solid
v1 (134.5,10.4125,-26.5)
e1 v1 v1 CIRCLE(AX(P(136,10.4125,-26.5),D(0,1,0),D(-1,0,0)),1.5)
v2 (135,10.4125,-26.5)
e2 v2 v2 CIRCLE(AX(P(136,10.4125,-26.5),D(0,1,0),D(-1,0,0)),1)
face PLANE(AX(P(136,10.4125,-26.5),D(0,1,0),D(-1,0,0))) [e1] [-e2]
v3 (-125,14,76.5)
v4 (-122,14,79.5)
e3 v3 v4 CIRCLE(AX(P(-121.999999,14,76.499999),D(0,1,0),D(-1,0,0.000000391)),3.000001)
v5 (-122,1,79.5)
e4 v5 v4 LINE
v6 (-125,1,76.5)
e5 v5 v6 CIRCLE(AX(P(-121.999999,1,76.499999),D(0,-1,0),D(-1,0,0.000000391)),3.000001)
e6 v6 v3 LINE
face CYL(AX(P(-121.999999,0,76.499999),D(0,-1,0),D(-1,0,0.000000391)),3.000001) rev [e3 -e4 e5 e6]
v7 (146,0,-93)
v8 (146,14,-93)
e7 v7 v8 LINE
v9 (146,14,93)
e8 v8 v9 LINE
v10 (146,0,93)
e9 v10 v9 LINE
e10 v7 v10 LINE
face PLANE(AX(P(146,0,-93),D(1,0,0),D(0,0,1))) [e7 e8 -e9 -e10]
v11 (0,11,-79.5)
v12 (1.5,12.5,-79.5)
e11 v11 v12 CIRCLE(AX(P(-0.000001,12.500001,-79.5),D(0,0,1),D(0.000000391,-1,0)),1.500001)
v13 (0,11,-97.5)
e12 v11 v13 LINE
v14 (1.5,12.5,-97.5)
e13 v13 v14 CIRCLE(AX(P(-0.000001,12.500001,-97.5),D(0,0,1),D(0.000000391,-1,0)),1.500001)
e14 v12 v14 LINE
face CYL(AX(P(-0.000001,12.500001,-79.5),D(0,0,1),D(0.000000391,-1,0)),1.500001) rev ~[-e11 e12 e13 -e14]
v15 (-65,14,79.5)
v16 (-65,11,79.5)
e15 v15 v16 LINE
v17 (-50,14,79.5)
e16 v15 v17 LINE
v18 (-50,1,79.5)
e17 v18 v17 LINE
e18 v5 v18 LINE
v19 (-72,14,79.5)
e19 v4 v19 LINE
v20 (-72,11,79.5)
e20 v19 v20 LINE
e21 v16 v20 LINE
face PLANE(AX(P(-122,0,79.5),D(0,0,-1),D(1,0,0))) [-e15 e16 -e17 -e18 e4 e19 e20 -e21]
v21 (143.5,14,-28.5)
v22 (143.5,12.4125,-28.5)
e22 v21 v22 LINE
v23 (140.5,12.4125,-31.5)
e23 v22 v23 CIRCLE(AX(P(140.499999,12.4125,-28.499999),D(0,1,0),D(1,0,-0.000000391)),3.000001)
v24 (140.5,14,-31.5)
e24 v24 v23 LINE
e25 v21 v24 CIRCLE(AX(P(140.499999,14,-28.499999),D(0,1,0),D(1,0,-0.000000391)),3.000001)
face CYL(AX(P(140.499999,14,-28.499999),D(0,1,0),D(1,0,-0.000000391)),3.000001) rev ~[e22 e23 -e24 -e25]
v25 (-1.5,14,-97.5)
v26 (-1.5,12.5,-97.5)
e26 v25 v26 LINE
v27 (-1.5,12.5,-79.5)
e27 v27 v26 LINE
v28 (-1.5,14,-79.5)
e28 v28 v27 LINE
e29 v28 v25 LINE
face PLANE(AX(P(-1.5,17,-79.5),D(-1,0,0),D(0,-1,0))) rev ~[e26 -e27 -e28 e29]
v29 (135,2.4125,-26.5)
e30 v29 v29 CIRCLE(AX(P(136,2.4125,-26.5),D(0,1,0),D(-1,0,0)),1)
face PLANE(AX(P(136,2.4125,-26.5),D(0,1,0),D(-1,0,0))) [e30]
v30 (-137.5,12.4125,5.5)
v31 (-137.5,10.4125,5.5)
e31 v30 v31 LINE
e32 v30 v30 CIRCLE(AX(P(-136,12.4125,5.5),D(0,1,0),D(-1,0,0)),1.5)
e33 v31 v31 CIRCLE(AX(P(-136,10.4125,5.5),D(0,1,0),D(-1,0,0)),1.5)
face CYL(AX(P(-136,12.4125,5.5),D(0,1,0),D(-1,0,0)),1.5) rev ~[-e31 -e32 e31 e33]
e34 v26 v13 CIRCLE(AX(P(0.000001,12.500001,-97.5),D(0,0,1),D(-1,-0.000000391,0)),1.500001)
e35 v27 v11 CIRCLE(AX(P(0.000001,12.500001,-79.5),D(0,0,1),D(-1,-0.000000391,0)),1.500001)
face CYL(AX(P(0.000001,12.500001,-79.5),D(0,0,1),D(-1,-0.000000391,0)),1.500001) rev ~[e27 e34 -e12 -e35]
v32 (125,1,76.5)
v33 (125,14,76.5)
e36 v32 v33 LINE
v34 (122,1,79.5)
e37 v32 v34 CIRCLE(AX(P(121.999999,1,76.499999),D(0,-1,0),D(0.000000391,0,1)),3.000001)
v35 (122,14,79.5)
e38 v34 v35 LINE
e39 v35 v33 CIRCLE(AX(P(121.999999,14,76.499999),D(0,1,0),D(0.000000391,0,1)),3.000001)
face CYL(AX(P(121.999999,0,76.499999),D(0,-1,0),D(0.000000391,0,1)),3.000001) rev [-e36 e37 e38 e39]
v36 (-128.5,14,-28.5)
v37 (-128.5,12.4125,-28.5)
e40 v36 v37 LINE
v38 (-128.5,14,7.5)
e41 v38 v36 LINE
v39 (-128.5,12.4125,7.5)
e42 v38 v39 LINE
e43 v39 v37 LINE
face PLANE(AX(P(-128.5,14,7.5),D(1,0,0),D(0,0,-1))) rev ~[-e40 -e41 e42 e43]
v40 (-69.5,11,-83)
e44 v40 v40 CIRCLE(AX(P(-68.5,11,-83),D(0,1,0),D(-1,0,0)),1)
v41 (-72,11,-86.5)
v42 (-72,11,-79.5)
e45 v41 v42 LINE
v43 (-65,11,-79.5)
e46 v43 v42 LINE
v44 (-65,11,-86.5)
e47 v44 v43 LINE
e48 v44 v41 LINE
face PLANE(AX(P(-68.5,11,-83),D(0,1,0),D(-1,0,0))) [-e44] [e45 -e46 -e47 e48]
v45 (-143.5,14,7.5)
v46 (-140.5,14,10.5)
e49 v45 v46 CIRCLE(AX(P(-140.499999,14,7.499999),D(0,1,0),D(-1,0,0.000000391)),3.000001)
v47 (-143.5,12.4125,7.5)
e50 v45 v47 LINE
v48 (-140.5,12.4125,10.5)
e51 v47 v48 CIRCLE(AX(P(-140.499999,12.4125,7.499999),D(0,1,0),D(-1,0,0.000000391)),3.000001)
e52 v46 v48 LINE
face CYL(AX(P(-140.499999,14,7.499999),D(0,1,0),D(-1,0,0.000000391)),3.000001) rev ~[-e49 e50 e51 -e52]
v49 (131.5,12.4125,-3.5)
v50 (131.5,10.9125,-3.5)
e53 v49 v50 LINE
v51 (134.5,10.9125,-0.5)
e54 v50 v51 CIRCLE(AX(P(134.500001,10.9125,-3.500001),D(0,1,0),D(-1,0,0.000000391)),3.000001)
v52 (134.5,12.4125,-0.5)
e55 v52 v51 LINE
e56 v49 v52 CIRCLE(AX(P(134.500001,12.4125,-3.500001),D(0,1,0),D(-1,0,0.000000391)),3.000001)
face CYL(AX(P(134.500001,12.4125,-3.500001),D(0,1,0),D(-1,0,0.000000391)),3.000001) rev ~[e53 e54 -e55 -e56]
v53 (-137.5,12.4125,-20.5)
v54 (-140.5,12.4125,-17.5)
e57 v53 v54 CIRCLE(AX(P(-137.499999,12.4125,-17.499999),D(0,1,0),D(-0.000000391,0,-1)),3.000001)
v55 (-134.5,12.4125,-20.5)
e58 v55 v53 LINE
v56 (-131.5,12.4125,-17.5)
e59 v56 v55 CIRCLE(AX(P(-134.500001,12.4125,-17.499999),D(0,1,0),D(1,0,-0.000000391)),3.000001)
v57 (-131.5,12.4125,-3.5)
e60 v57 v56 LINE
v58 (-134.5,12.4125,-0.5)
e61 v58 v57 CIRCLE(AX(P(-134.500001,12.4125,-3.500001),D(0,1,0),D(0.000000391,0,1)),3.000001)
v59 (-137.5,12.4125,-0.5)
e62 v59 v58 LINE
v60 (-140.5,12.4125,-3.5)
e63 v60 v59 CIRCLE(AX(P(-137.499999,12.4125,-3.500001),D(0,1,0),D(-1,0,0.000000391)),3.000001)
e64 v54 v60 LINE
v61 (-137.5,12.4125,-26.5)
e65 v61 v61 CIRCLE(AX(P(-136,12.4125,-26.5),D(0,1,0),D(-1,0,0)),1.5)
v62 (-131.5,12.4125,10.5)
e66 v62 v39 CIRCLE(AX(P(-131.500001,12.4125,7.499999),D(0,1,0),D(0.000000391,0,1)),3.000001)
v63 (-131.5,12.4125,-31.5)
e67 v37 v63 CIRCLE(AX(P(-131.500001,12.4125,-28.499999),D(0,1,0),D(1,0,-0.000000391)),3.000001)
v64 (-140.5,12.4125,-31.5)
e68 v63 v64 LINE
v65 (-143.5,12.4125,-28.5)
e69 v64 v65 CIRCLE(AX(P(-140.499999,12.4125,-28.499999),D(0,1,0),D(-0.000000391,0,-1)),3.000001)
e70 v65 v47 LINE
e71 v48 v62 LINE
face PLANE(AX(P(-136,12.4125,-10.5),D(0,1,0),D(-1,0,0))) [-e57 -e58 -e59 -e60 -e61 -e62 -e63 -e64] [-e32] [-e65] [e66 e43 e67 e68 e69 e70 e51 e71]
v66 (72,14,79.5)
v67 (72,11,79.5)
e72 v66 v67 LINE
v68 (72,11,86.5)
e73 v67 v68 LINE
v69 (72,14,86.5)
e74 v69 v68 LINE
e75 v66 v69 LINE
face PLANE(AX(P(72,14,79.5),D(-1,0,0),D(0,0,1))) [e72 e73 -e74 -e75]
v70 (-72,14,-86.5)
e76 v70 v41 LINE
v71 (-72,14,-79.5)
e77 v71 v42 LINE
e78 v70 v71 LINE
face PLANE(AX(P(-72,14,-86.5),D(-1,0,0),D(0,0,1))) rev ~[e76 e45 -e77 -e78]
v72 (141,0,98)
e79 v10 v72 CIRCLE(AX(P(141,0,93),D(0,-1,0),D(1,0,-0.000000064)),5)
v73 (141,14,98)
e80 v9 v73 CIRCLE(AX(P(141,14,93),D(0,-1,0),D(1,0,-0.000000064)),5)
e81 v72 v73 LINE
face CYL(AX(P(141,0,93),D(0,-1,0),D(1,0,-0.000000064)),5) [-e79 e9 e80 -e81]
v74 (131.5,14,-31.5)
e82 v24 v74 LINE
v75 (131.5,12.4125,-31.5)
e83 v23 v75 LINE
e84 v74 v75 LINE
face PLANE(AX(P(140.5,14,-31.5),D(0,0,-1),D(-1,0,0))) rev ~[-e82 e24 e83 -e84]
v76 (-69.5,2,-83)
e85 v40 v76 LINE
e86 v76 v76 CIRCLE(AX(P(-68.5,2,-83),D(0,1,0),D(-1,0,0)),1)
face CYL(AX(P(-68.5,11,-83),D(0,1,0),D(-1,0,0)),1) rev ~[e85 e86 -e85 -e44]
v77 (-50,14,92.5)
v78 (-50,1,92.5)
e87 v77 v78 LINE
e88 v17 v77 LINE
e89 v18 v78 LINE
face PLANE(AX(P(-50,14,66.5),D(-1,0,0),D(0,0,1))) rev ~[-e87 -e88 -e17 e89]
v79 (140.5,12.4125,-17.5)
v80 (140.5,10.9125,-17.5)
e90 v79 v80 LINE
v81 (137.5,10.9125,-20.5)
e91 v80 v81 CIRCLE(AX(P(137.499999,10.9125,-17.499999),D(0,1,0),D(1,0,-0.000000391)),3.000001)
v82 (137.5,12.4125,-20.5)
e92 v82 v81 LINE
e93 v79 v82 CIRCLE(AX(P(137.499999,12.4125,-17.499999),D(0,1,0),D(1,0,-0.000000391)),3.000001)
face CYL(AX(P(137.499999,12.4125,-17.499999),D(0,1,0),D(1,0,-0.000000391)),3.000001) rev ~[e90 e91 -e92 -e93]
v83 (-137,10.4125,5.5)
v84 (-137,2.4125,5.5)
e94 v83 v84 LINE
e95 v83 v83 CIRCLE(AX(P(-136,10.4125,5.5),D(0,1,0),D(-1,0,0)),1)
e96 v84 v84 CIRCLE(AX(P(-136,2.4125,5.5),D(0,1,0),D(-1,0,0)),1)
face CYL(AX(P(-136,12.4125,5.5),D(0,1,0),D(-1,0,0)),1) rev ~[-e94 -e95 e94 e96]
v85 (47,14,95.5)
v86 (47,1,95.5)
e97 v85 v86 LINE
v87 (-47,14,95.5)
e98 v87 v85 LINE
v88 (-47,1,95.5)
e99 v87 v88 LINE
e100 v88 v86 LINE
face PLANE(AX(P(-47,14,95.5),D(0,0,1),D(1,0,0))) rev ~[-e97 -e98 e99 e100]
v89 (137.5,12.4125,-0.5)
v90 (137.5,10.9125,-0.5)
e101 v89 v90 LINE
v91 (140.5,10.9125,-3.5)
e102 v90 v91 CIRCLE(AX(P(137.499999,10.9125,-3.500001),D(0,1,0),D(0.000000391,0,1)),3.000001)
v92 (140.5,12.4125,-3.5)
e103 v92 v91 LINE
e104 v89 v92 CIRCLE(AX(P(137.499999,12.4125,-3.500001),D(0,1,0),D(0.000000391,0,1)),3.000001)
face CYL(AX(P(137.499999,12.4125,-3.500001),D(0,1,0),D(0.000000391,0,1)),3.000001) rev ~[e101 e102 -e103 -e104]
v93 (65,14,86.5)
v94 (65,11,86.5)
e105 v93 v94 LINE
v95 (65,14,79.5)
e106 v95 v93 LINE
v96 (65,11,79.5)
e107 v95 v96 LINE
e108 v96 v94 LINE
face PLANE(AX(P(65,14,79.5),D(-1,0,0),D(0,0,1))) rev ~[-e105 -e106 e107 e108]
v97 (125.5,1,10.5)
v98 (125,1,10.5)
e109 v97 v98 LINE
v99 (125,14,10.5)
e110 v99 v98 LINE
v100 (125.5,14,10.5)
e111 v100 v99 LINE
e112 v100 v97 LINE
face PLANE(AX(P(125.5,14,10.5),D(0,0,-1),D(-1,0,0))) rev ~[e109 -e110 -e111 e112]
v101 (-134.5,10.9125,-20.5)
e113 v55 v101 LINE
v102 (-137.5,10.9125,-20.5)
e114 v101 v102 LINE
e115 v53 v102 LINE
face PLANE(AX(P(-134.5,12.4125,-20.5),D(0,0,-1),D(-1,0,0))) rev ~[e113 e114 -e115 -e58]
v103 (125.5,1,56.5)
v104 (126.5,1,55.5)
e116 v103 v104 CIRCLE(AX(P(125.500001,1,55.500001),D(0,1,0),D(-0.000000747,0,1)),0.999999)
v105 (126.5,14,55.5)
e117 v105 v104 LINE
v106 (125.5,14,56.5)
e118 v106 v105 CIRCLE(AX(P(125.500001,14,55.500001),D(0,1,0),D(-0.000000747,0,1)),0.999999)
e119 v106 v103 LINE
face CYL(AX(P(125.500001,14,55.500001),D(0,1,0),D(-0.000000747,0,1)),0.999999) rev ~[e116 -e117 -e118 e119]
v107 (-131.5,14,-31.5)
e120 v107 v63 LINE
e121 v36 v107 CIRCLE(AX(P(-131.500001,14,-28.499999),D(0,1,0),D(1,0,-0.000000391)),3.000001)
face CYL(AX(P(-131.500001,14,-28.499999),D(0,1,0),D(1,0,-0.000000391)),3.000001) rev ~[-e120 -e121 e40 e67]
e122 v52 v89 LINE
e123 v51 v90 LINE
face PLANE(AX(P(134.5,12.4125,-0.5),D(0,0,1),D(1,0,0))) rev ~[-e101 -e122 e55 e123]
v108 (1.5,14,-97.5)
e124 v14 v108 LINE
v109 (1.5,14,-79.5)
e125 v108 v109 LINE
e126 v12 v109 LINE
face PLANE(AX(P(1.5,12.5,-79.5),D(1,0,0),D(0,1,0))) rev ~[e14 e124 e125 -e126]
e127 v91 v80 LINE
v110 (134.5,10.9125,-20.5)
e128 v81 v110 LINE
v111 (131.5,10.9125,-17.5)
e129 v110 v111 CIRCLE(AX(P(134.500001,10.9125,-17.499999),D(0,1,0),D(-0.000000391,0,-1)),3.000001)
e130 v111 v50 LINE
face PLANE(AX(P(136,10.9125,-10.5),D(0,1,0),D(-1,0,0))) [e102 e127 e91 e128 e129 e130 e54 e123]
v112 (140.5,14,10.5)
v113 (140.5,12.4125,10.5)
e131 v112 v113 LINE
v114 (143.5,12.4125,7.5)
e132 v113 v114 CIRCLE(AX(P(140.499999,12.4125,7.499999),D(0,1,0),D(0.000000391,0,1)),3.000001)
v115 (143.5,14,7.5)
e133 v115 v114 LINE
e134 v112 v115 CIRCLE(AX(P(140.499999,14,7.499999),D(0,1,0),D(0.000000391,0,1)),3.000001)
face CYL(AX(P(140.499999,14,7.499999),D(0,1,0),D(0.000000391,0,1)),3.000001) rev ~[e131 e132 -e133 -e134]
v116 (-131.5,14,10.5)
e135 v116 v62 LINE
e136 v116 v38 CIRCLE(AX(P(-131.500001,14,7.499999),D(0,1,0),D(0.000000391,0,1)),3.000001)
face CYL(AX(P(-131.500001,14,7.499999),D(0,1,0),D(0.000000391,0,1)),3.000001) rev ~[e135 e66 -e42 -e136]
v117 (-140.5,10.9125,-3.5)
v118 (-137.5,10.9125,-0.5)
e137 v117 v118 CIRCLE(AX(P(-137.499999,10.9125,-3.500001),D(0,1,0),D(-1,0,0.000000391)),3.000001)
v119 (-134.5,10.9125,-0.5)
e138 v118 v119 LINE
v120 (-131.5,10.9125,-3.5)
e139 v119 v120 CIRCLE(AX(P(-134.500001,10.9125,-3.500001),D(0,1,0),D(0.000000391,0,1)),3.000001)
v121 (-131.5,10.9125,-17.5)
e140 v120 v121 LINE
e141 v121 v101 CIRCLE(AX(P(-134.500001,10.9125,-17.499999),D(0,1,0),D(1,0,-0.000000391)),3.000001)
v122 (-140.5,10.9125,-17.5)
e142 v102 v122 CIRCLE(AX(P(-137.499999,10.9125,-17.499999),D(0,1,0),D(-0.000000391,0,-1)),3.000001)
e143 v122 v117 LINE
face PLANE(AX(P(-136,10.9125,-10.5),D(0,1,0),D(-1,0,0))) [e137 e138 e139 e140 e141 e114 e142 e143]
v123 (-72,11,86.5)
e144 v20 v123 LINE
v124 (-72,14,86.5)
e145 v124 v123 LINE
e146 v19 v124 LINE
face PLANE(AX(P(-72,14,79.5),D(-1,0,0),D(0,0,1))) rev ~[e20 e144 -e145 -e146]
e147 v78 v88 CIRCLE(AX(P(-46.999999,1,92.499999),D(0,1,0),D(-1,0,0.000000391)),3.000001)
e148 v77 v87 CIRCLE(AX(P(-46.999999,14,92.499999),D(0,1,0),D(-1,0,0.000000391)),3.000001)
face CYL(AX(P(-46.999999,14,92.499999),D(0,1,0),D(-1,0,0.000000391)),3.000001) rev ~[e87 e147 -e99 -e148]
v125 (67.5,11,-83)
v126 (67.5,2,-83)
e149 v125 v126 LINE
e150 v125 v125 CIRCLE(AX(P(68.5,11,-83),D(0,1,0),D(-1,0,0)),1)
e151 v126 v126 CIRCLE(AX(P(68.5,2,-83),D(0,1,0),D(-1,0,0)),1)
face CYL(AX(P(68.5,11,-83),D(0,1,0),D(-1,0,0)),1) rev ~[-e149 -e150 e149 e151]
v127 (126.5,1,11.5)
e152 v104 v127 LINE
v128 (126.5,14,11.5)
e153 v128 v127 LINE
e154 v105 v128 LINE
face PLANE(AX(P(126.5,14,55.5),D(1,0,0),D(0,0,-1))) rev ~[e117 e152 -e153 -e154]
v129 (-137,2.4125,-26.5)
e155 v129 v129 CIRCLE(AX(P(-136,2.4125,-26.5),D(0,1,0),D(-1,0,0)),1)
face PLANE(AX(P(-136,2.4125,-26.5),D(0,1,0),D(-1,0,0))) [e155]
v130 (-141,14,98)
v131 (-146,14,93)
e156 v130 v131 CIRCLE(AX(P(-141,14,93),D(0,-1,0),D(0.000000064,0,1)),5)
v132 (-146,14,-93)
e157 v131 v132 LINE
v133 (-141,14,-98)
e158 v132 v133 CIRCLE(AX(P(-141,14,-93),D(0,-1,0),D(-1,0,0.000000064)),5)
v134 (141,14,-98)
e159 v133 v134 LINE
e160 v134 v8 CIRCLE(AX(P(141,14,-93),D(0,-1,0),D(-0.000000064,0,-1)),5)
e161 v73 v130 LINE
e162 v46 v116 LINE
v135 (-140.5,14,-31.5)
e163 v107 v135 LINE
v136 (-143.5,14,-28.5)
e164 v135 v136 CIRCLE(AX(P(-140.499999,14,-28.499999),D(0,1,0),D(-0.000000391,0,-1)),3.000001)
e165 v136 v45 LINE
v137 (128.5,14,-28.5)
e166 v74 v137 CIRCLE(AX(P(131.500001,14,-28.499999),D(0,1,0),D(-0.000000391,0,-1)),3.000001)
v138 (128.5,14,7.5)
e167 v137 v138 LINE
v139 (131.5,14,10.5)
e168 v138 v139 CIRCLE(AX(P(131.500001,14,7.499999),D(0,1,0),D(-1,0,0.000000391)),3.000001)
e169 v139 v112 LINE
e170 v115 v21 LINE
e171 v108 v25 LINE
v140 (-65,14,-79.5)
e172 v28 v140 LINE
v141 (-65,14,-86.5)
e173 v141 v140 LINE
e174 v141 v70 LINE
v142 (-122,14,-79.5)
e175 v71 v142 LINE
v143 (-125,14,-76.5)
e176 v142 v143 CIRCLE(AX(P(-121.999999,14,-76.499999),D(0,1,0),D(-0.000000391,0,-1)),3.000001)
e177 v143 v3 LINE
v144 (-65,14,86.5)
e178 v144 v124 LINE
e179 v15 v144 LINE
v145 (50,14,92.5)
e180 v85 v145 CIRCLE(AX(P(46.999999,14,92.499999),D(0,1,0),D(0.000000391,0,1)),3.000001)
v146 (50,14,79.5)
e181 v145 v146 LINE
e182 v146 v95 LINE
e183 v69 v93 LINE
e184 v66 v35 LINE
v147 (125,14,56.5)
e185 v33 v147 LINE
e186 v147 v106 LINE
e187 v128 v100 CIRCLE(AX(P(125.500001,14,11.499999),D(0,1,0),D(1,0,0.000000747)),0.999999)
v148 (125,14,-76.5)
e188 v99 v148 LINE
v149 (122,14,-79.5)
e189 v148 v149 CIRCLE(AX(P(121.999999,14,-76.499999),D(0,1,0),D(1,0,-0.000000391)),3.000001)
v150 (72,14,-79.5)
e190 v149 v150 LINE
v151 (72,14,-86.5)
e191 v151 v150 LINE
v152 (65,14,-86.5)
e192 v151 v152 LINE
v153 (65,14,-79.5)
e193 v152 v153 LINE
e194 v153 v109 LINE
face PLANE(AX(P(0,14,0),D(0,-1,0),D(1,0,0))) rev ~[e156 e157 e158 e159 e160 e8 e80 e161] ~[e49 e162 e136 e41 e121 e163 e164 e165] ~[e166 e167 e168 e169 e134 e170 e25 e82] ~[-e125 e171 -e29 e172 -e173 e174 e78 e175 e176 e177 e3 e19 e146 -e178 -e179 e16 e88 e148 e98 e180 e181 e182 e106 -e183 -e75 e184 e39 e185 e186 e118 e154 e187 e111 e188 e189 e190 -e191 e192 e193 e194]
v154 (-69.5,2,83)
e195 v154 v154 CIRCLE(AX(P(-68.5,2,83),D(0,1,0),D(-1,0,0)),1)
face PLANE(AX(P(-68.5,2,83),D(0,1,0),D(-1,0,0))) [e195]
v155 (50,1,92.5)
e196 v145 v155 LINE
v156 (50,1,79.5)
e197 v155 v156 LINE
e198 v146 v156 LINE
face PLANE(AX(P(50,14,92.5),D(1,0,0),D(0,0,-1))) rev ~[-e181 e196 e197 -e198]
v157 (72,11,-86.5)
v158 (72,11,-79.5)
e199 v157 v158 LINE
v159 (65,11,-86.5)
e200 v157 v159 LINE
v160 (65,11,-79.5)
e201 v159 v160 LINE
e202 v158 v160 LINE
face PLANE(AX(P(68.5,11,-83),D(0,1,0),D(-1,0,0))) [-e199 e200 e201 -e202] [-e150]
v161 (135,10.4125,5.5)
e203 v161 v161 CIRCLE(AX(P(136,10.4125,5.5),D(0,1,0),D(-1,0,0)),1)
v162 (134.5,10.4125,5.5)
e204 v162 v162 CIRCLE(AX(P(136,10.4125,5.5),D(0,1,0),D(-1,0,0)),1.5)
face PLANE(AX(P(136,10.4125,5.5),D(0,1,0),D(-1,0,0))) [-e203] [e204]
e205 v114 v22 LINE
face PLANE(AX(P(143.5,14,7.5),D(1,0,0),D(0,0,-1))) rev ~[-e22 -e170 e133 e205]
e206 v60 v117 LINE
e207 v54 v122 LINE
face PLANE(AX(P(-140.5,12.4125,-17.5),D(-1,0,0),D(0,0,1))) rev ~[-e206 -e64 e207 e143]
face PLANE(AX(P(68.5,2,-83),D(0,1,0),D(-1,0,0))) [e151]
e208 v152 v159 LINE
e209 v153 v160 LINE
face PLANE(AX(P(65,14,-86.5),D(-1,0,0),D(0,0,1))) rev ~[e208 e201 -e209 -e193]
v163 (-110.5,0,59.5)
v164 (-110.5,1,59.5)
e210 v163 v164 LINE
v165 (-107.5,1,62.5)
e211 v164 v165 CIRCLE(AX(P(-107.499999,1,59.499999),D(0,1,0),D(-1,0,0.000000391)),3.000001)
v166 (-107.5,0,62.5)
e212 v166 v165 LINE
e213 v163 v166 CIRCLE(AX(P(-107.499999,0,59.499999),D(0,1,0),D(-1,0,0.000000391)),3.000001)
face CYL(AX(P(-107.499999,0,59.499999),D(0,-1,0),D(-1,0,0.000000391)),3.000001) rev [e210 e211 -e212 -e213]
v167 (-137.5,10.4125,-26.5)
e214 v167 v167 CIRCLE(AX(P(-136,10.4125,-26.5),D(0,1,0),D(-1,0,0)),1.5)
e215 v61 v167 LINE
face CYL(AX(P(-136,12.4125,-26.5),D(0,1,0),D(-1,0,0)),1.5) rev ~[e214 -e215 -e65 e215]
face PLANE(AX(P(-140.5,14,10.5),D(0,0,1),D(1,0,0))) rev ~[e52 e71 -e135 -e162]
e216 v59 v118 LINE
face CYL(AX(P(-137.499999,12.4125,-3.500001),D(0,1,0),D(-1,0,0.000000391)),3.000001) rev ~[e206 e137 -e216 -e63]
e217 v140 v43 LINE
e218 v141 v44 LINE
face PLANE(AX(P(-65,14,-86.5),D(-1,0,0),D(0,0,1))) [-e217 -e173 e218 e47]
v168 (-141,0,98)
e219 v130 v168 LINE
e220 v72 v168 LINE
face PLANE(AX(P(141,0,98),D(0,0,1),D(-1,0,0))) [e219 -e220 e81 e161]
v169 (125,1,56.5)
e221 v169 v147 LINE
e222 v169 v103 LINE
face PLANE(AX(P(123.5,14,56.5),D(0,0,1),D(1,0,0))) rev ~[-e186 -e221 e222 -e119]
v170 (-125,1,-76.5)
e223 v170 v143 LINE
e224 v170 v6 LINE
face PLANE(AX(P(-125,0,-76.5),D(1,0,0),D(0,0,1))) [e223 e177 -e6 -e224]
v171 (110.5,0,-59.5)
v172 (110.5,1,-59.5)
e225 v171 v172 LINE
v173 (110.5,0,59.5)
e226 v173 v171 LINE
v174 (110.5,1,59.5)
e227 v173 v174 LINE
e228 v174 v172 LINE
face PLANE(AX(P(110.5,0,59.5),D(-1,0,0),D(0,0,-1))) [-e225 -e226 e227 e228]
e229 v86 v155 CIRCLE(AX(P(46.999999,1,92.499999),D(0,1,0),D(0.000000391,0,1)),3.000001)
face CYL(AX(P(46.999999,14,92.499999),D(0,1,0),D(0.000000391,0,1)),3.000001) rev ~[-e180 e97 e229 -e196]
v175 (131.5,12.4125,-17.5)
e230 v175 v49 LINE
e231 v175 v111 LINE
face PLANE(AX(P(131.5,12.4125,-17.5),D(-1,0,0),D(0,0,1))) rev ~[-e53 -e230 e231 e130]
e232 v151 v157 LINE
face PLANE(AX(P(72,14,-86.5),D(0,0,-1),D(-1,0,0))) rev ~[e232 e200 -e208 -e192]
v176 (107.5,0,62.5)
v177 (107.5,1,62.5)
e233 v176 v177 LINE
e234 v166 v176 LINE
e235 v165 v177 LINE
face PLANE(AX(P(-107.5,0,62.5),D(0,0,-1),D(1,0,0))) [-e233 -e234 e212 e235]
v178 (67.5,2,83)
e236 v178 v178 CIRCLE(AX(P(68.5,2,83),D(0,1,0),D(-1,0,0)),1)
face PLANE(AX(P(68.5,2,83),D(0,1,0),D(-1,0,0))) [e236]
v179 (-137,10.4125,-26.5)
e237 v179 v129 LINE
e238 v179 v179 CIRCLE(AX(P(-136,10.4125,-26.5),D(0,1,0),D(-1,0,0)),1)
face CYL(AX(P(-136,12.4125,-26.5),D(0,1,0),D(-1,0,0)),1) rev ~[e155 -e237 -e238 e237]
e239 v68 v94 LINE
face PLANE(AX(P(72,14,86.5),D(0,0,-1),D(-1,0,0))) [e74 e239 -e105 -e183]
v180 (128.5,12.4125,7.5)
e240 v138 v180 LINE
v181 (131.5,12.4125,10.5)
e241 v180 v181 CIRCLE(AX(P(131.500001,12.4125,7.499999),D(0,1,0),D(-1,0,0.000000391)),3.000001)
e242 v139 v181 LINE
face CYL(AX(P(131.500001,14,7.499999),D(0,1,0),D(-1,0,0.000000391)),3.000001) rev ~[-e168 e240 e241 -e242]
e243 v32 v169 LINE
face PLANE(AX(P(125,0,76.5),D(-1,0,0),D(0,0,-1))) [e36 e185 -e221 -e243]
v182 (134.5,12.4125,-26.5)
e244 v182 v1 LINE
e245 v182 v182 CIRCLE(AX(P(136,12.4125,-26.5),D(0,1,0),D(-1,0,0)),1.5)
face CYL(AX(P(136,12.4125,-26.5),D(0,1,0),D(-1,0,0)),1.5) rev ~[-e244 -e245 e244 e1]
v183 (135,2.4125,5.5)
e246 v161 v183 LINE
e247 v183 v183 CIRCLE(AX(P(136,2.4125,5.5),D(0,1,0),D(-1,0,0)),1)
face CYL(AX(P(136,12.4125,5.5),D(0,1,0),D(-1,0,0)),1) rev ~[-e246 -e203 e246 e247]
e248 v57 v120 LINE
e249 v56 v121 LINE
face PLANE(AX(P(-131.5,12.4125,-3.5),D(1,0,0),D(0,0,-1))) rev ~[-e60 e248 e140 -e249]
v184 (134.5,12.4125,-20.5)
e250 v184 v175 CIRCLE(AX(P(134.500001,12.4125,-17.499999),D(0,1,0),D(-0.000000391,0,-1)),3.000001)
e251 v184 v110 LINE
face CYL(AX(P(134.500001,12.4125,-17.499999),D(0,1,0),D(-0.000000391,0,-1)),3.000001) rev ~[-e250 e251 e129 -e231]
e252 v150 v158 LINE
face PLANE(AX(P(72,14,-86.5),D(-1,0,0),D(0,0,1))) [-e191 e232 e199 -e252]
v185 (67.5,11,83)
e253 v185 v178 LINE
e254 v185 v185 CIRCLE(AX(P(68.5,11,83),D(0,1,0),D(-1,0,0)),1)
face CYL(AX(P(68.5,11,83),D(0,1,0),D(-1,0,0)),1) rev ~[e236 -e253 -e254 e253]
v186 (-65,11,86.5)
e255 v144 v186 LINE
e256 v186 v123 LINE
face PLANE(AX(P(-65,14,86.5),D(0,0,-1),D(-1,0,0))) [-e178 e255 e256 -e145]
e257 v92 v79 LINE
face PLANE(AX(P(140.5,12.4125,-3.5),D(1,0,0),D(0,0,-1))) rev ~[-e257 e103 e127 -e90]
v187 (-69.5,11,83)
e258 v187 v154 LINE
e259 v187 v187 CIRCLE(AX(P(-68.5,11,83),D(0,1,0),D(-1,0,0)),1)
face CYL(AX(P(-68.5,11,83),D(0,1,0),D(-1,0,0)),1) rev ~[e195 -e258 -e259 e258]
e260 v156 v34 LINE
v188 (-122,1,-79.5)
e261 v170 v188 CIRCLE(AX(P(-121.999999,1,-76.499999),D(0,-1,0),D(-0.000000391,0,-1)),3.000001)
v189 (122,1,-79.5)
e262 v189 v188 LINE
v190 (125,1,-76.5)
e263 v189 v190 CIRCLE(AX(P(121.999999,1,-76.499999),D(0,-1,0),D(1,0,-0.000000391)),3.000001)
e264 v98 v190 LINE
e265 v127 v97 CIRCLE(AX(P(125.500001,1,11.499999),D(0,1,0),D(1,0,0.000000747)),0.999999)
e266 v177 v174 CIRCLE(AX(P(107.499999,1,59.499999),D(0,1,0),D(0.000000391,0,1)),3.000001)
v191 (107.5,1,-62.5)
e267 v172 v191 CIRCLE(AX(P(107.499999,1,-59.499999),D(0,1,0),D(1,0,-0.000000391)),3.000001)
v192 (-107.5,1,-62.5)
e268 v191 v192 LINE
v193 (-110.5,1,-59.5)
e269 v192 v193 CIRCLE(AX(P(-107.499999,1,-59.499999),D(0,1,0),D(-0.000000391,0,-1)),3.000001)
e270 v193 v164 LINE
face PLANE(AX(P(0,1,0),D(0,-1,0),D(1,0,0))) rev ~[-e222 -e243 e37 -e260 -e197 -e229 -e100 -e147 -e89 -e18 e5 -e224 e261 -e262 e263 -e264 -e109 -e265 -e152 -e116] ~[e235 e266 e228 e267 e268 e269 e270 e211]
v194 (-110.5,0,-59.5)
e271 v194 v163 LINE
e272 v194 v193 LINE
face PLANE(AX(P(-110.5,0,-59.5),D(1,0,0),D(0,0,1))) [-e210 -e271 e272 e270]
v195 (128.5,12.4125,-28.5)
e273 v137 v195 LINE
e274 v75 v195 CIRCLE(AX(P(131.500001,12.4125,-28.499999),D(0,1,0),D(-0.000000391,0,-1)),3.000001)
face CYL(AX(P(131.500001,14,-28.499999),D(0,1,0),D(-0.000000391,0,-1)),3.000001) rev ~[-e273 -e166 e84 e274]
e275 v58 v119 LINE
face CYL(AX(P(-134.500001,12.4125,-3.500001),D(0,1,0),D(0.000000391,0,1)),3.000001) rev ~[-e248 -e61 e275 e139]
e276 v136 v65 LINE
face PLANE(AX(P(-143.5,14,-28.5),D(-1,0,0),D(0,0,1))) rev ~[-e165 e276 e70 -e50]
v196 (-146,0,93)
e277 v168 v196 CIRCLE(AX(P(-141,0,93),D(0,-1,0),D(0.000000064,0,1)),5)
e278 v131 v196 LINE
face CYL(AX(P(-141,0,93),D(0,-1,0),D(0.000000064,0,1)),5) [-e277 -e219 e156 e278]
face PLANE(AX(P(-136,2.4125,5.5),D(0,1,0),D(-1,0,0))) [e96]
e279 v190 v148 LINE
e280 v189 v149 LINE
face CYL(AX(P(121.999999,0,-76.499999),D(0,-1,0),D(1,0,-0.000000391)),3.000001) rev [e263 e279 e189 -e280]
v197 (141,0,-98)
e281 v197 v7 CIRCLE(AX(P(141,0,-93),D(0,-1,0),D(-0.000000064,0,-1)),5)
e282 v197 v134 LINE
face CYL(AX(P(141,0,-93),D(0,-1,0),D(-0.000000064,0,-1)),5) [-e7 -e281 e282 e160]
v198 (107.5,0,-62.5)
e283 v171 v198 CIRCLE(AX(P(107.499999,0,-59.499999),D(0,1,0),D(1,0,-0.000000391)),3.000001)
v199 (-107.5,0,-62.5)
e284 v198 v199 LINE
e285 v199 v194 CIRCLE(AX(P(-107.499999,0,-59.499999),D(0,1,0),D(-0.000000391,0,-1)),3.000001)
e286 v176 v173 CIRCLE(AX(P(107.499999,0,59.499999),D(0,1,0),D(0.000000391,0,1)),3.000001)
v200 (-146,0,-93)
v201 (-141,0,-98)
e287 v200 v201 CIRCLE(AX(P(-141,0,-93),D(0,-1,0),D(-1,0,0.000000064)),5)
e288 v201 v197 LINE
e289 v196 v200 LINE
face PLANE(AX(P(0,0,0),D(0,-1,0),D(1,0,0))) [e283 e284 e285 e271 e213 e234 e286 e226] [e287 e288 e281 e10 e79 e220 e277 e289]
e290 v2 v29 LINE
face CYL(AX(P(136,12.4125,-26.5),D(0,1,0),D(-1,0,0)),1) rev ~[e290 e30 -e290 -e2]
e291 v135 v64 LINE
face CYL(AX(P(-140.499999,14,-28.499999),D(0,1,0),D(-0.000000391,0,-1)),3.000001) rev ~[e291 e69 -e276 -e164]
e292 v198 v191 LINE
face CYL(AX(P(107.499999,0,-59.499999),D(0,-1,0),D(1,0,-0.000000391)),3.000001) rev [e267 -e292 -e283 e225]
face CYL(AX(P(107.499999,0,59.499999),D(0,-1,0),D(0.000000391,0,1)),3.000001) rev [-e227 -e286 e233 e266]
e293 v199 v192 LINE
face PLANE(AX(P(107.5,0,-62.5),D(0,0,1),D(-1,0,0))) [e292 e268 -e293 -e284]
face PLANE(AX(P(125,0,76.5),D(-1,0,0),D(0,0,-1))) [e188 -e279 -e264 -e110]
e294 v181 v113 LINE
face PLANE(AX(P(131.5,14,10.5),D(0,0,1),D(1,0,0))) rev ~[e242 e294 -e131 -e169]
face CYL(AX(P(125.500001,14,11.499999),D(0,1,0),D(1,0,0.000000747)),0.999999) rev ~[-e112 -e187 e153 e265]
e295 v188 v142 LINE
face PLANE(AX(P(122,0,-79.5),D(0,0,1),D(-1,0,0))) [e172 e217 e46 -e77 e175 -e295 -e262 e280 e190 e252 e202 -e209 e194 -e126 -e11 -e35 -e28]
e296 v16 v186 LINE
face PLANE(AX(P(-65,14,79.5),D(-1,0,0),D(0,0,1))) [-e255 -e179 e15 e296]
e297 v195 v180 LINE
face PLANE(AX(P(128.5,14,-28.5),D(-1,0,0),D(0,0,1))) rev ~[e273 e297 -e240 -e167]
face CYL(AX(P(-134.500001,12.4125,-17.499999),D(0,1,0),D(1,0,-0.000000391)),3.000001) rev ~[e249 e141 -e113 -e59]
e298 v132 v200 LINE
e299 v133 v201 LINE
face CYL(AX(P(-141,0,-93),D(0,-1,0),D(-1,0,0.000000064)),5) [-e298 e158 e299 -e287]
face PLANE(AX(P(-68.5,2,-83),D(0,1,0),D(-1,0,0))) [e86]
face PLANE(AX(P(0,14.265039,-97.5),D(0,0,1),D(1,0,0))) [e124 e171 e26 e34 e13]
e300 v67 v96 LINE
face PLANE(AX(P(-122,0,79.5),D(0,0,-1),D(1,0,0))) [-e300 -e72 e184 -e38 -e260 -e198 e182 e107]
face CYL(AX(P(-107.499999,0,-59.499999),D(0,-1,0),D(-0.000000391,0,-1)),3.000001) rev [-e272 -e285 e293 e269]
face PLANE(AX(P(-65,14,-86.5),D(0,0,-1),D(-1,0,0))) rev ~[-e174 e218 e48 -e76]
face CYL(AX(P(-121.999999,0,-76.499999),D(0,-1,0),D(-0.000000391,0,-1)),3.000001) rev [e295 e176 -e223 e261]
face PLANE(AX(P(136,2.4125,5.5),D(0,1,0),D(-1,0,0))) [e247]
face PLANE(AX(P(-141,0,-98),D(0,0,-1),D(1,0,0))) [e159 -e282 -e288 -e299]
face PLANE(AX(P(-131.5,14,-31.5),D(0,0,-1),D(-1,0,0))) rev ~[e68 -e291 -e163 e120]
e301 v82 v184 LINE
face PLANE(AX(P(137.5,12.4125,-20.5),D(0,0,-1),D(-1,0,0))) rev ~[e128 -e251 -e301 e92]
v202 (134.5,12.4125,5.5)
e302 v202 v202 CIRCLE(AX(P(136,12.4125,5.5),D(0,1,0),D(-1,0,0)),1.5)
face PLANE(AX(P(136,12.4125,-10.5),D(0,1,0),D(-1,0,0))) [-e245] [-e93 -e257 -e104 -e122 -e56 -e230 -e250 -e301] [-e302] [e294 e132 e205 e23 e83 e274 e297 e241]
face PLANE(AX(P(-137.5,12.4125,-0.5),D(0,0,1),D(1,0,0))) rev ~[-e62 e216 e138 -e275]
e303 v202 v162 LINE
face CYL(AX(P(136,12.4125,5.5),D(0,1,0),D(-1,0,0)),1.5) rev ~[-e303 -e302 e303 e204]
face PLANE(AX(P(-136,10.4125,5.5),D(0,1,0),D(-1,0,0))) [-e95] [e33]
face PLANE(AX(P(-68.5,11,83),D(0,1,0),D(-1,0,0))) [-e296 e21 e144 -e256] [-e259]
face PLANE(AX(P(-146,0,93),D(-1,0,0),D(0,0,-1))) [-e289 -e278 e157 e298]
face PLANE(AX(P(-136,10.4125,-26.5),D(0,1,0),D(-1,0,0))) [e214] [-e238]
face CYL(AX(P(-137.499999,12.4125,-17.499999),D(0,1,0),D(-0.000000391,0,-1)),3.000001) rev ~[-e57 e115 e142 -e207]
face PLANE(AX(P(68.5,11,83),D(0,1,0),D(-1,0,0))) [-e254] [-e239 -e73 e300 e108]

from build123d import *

# Parameters (mm, degrees)
F1_DEPTH  = 1
F2_DEPTH  = 14
F4_DEPTH  = 13
F7_DEPTH  = 18
F10_DEPTH = 13
F13_DEPTH = 1.5875
F16_DEPTH = 1.5
F18_R     = 1
F19_DEPTH = 10
F21_R     = 1.5
F22_DEPTH = 2
F24_W     = 7
F24_H     = 7
F25_DEPTH = 3
F27_R     = 1
F28_DEPTH = 9


with BuildPart() as f1:
    # F0 (on Front) → F1 (new body)
    with BuildSketch(Plane.XZ):
        with BuildLine():
            Line((141, 98), (-141, 98))
            ThreePointArc((-141, 98), (-144.535534, 96.535534), (-146, 93))
            Line((-146, 93), (-146, -93))
            ThreePointArc((-146, -93), (-144.535534, -96.535534), (-141, -98))
            Line((-141, -98), (141, -98))
            ThreePointArc((141, -98), (144.535534, -96.535534), (146, -93))
            Line((146, -93), (146, 93))
            ThreePointArc((146, 93), (144.535534, 96.535534), (141, 98))
        make_face()
        with BuildLine():
            ThreePointArc((-125, 76.5), (-124.12132, 78.62132), (-122, 79.5))
            Line((-122, 79.5), (122, 79.5))
            ThreePointArc((122, 79.5), (124.12132, 78.62132), (125, 76.5))
            Line((125, 76.5), (125, -76.5))
            ThreePointArc((125, -76.5), (124.12132, -78.62132), (122, -79.5))
            Line((122, -79.5), (-122, -79.5))
            ThreePointArc((-122, -79.5), (-124.12132, -78.62132), (-125, -76.5))
            Line((-125, -76.5), (-125, 76.5))
        make_face(mode=Mode.SUBTRACT)
        with BuildLine():
            Line((122, 79.5), (-122, 79.5))
            ThreePointArc((-122, 79.5), (-124.12132, 78.62132), (-125, 76.5))
            Line((-125, 76.5), (-125, -76.5))
            ThreePointArc((-125, -76.5), (-124.12132, -78.62132), (-122, -79.5))
            Line((-122, -79.5), (122, -79.5))
            ThreePointArc((122, -79.5), (124.12132, -78.62132), (125, -76.5))
            Line((125, -76.5), (125, 76.5))
            ThreePointArc((125, 76.5), (124.12132, 78.62132), (122, 79.5))
        make_face()
        with BuildLine():
            ThreePointArc((-110.5, 59.5), (-109.62132, 61.62132), (-107.5, 62.5))
            Line((-107.5, 62.5), (107.5, 62.5))
            ThreePointArc((107.5, 62.5), (109.62132, 61.62132), (110.5, 59.5))
            Line((110.5, 59.5), (110.5, -59.5))
            ThreePointArc((110.5, -59.5), (109.62132, -61.62132), (107.5, -62.5))
            Line((107.5, -62.5), (-107.5, -62.5))
            ThreePointArc((-107.5, -62.5), (-109.62132, -61.62132), (-110.5, -59.5))
            Line((-110.5, -59.5), (-110.5, 59.5))
        make_face(mode=Mode.SUBTRACT)
    extrude(amount=-F1_DEPTH)

    # F0 (on Front) → F2 (join)
    with BuildSketch(Plane.XZ):
        with BuildLine():
            Line((141, 98), (-141, 98))
            ThreePointArc((-141, 98), (-144.535534, 96.535534), (-146, 93))
            Line((-146, 93), (-146, -93))
            ThreePointArc((-146, -93), (-144.535534, -96.535534), (-141, -98))
            Line((-141, -98), (141, -98))
            ThreePointArc((141, -98), (144.535534, -96.535534), (146, -93))
            Line((146, -93), (146, 93))
            ThreePointArc((146, 93), (144.535534, 96.535534), (141, 98))
        make_face()
        with BuildLine():
            ThreePointArc((-125, 76.5), (-124.12132, 78.62132), (-122, 79.5))
            Line((-122, 79.5), (122, 79.5))
            ThreePointArc((122, 79.5), (124.12132, 78.62132), (125, 76.5))
            Line((125, 76.5), (125, -76.5))
            ThreePointArc((125, -76.5), (124.12132, -78.62132), (122, -79.5))
            Line((122, -79.5), (-122, -79.5))
            ThreePointArc((-122, -79.5), (-124.12132, -78.62132), (-125, -76.5))
            Line((-125, -76.5), (-125, 76.5))
        make_face(mode=Mode.SUBTRACT)
    extrude(amount=-F2_DEPTH)


with BuildPart() as f4:
    # F3 (on face) → F4 (new body)
    with BuildSketch(Plane(origin=(0, 14, 0), x_dir=(-1, 0, 0), z_dir=(0, 1, 0))):
        with BuildLine():
            ThreePointArc((50, 92.5), (49.12132, 94.62132), (47, 95.5))
            Line((47, 95.5), (-47, 95.5))
            ThreePointArc((-47, 95.5), (-49.12132, 94.62132), (-50, 92.5))
            Line((-50, 92.5), (-50, 66.5))
            ThreePointArc((-50, 66.5), (-49.12132, 64.37868), (-47, 63.5))
            Line((-47, 63.5), (47, 63.5))
            ThreePointArc((47, 63.5), (49.12132, 64.37868), (50, 66.5))
            Line((50, 66.5), (50, 92.5))
        make_face()
    extrude(amount=-F4_DEPTH)


with BuildPart() as f1_1:
    add(f1.part)

    # F5: cut F4
    add(f4.part, mode=Mode.SUBTRACT)


with BuildPart() as f7:
    # F6 (on face) → F7 (new body)
    with BuildSketch(Plane.XY.offset(-79.5)):
        with BuildLine():
            Line((1.5, 17), (-1.5, 17))
            Line((-1.5, 17), (-1.5, 12.5))
            ThreePointArc((-1.5, 12.5), (-1.06066, 11.43934), (0, 11))
            ThreePointArc((0, 11), (1.06066, 11.43934), (1.5, 12.5))
            Line((1.5, 12.5), (1.5, 17))
        make_face()
    extrude(amount=-F7_DEPTH)


with BuildPart() as f1_2:
    add(f1_1.part)

    # F8: cut F7
    add(f7.part, mode=Mode.SUBTRACT)


with BuildPart() as f10:
    # F9 (on face) → F10 (new body)
    with BuildSketch(Plane(origin=(0, 14, 0), x_dir=(-1, 0, 0), z_dir=(0, 1, 0))):
        with BuildLine():
            Line((-123.5, 56.5), (-125.5, 56.5))
            ThreePointArc((-125.5, 56.5), (-126.207107, 56.207107), (-126.5, 55.5))
            Line((-126.5, 55.5), (-126.5, 11.5))
            ThreePointArc((-126.5, 11.5), (-126.207107, 10.792893), (-125.5, 10.5))
            Line((-125.5, 10.5), (-123.5, 10.5))
            Line((-123.5, 10.5), (-123.5, 56.5))
        make_face()
    extrude(amount=-F10_DEPTH)


with BuildPart() as f1_3:
    add(f1_2.part)

    # F11: cut F10
    add(f10.part, mode=Mode.SUBTRACT)


with BuildPart() as f13:
    # F12 (on face) → F13 (new body)
    with BuildSketch(Plane(origin=(0, 14, 0), x_dir=(-1, 0, 0), z_dir=(0, 1, 0))):
        with BuildLine():
            Line((-140.5, -31.5), (-131.5, -31.5))
            ThreePointArc((-131.5, -31.5), (-129.37868, -30.62132), (-128.5, -28.5))
            Line((-128.5, -28.5), (-128.5, 7.5))
            ThreePointArc((-128.5, 7.5), (-129.37868, 9.62132), (-131.5, 10.5))
            Line((-131.5, 10.5), (-140.5, 10.5))
            ThreePointArc((-140.5, 10.5), (-142.62132, 9.62132), (-143.5, 7.5))
            Line((-143.5, 7.5), (-143.5, -28.5))
            ThreePointArc((-143.5, -28.5), (-142.62132, -30.62132), (-140.5, -31.5))
        make_face()
        with BuildLine():
            ThreePointArc((128.5, -28.5), (129.37868, -30.62132), (131.5, -31.5))
            Line((131.5, -31.5), (140.5, -31.5))
            ThreePointArc((140.5, -31.5), (142.62132, -30.62132), (143.5, -28.5))
            Line((143.5, -28.5), (143.5, 7.5))
            ThreePointArc((143.5, 7.5), (142.62132, 9.62132), (140.5, 10.5))
            Line((140.5, 10.5), (131.5, 10.5))
            ThreePointArc((131.5, 10.5), (129.37868, 9.62132), (128.5, 7.5))
            Line((128.5, 7.5), (128.5, -28.5))
        make_face()
    extrude(amount=-F13_DEPTH)


with BuildPart() as f1_4:
    add(f1_3.part)

    # F14: cut F13
    add(f13.part, mode=Mode.SUBTRACT)


with BuildPart() as f16:
    # F15 (on face) → F16 (new body)
    with BuildSketch(Plane(origin=(0, 12.4125, 0), x_dir=(-1, 0, 0), z_dir=(0, 1, 0))):
        with BuildLine():
            ThreePointArc((-131.5, -3.5), (-132.37868, -1.37868), (-134.5, -0.5))
            Line((-134.5, -0.5), (-137.5, -0.5))
            ThreePointArc((-137.5, -0.5), (-139.62132, -1.37868), (-140.5, -3.5))
            Line((-140.5, -3.5), (-140.5, -17.5))
            ThreePointArc((-140.5, -17.5), (-139.62132, -19.62132), (-137.5, -20.5))
            Line((-137.5, -20.5), (-134.5, -20.5))
            ThreePointArc((-134.5, -20.5), (-132.37868, -19.62132), (-131.5, -17.5))
            Line((-131.5, -17.5), (-131.5, -3.5))
        make_face()
        with BuildLine():
            Line((137.5, -0.5), (134.5, -0.5))
            ThreePointArc((134.5, -0.5), (132.37868, -1.37868), (131.5, -3.5))
            Line((131.5, -3.5), (131.5, -17.5))
            ThreePointArc((131.5, -17.5), (132.37868, -19.62132), (134.5, -20.5))
            Line((134.5, -20.5), (137.5, -20.5))
            ThreePointArc((137.5, -20.5), (139.62132, -19.62132), (140.5, -17.5))
            Line((140.5, -17.5), (140.5, -3.5))
            ThreePointArc((140.5, -3.5), (139.62132, -1.37868), (137.5, -0.5))
        make_face()
    extrude(amount=-F16_DEPTH)


with BuildPart() as f1_5:
    add(f1_4.part)

    # F17: cut F16
    add(f16.part, mode=Mode.SUBTRACT)


with BuildPart() as f19:
    # F18 (on face) → F19 (new body)
    with BuildSketch(Plane(origin=(0, 12.4125, 0), x_dir=(-1, 0, 0), z_dir=(0, 1, 0))):
        with Locations((-136, 5.5)):
            Circle(F18_R)
        with Locations((-136, -26.5)):
            Circle(F18_R)
        with Locations((136, 5.5)):
            Circle(F18_R)
        with Locations((136, -26.5)):
            Circle(F18_R)
    extrude(amount=-F19_DEPTH)


with BuildPart() as f1_6:
    add(f1_5.part)

    # F20: cut F19
    add(f19.part, mode=Mode.SUBTRACT)


with BuildPart() as f22:
    # F21 (on face) → F22 (new body)
    with BuildSketch(Plane(origin=(0, 12.4125, 0), x_dir=(-1, 0, 0), z_dir=(0, 1, 0))):
        with Locations((-136, 5.5)):
            Circle(F21_R)
        with Locations((-136, -26.5)):
            Circle(F21_R)
        with Locations((136, -26.5)):
            Circle(F21_R)
        with Locations((136, 5.5)):
            Circle(F21_R)
    extrude(amount=-F22_DEPTH)


with BuildPart() as f1_7:
    add(f1_6.part)

    # F23: cut F22
    add(f22.part, mode=Mode.SUBTRACT)


with BuildPart() as f25:
    # F24 (on face) → F25 (new body)
    with BuildSketch(Plane(origin=(0, 14, 0), x_dir=(-1, 0, 0), z_dir=(0, 1, 0))):
        with Locations((-68.5, 83)):
            Rectangle(F24_W, F24_H)
        with Locations((68.5, 83)):
            Rectangle(F24_W, F24_H)
        with Locations((-68.5, -83)):
            Rectangle(F24_W, F24_H)
        with Locations((68.5, -83)):
            Rectangle(F24_W, F24_H)
    extrude(amount=-F25_DEPTH)


with BuildPart() as f1_8:
    add(f1_7.part)

    # F26: cut F25
    add(f25.part, mode=Mode.SUBTRACT)


with BuildPart() as f28:
    # F27 (on face) → F28 (new body)
    with BuildSketch(Plane(origin=(0, 11, 0), x_dir=(-1, 0, 0), z_dir=(0, 1, 0))):
        with Locations((-68.5, 83)):
            Circle(F27_R)
        with Locations((68.5, 83)):
            Circle(F27_R)
        with Locations((-68.5, -83)):
            Circle(F27_R)
        with Locations((68.5, -83)):
            Circle(F27_R)
    extrude(amount=-F28_DEPTH)


with BuildPart() as f1_9:
    add(f1_8.part)

    # F29: cut F28
    add(f28.part, mode=Mode.SUBTRACT)


solid = f1_9.part
